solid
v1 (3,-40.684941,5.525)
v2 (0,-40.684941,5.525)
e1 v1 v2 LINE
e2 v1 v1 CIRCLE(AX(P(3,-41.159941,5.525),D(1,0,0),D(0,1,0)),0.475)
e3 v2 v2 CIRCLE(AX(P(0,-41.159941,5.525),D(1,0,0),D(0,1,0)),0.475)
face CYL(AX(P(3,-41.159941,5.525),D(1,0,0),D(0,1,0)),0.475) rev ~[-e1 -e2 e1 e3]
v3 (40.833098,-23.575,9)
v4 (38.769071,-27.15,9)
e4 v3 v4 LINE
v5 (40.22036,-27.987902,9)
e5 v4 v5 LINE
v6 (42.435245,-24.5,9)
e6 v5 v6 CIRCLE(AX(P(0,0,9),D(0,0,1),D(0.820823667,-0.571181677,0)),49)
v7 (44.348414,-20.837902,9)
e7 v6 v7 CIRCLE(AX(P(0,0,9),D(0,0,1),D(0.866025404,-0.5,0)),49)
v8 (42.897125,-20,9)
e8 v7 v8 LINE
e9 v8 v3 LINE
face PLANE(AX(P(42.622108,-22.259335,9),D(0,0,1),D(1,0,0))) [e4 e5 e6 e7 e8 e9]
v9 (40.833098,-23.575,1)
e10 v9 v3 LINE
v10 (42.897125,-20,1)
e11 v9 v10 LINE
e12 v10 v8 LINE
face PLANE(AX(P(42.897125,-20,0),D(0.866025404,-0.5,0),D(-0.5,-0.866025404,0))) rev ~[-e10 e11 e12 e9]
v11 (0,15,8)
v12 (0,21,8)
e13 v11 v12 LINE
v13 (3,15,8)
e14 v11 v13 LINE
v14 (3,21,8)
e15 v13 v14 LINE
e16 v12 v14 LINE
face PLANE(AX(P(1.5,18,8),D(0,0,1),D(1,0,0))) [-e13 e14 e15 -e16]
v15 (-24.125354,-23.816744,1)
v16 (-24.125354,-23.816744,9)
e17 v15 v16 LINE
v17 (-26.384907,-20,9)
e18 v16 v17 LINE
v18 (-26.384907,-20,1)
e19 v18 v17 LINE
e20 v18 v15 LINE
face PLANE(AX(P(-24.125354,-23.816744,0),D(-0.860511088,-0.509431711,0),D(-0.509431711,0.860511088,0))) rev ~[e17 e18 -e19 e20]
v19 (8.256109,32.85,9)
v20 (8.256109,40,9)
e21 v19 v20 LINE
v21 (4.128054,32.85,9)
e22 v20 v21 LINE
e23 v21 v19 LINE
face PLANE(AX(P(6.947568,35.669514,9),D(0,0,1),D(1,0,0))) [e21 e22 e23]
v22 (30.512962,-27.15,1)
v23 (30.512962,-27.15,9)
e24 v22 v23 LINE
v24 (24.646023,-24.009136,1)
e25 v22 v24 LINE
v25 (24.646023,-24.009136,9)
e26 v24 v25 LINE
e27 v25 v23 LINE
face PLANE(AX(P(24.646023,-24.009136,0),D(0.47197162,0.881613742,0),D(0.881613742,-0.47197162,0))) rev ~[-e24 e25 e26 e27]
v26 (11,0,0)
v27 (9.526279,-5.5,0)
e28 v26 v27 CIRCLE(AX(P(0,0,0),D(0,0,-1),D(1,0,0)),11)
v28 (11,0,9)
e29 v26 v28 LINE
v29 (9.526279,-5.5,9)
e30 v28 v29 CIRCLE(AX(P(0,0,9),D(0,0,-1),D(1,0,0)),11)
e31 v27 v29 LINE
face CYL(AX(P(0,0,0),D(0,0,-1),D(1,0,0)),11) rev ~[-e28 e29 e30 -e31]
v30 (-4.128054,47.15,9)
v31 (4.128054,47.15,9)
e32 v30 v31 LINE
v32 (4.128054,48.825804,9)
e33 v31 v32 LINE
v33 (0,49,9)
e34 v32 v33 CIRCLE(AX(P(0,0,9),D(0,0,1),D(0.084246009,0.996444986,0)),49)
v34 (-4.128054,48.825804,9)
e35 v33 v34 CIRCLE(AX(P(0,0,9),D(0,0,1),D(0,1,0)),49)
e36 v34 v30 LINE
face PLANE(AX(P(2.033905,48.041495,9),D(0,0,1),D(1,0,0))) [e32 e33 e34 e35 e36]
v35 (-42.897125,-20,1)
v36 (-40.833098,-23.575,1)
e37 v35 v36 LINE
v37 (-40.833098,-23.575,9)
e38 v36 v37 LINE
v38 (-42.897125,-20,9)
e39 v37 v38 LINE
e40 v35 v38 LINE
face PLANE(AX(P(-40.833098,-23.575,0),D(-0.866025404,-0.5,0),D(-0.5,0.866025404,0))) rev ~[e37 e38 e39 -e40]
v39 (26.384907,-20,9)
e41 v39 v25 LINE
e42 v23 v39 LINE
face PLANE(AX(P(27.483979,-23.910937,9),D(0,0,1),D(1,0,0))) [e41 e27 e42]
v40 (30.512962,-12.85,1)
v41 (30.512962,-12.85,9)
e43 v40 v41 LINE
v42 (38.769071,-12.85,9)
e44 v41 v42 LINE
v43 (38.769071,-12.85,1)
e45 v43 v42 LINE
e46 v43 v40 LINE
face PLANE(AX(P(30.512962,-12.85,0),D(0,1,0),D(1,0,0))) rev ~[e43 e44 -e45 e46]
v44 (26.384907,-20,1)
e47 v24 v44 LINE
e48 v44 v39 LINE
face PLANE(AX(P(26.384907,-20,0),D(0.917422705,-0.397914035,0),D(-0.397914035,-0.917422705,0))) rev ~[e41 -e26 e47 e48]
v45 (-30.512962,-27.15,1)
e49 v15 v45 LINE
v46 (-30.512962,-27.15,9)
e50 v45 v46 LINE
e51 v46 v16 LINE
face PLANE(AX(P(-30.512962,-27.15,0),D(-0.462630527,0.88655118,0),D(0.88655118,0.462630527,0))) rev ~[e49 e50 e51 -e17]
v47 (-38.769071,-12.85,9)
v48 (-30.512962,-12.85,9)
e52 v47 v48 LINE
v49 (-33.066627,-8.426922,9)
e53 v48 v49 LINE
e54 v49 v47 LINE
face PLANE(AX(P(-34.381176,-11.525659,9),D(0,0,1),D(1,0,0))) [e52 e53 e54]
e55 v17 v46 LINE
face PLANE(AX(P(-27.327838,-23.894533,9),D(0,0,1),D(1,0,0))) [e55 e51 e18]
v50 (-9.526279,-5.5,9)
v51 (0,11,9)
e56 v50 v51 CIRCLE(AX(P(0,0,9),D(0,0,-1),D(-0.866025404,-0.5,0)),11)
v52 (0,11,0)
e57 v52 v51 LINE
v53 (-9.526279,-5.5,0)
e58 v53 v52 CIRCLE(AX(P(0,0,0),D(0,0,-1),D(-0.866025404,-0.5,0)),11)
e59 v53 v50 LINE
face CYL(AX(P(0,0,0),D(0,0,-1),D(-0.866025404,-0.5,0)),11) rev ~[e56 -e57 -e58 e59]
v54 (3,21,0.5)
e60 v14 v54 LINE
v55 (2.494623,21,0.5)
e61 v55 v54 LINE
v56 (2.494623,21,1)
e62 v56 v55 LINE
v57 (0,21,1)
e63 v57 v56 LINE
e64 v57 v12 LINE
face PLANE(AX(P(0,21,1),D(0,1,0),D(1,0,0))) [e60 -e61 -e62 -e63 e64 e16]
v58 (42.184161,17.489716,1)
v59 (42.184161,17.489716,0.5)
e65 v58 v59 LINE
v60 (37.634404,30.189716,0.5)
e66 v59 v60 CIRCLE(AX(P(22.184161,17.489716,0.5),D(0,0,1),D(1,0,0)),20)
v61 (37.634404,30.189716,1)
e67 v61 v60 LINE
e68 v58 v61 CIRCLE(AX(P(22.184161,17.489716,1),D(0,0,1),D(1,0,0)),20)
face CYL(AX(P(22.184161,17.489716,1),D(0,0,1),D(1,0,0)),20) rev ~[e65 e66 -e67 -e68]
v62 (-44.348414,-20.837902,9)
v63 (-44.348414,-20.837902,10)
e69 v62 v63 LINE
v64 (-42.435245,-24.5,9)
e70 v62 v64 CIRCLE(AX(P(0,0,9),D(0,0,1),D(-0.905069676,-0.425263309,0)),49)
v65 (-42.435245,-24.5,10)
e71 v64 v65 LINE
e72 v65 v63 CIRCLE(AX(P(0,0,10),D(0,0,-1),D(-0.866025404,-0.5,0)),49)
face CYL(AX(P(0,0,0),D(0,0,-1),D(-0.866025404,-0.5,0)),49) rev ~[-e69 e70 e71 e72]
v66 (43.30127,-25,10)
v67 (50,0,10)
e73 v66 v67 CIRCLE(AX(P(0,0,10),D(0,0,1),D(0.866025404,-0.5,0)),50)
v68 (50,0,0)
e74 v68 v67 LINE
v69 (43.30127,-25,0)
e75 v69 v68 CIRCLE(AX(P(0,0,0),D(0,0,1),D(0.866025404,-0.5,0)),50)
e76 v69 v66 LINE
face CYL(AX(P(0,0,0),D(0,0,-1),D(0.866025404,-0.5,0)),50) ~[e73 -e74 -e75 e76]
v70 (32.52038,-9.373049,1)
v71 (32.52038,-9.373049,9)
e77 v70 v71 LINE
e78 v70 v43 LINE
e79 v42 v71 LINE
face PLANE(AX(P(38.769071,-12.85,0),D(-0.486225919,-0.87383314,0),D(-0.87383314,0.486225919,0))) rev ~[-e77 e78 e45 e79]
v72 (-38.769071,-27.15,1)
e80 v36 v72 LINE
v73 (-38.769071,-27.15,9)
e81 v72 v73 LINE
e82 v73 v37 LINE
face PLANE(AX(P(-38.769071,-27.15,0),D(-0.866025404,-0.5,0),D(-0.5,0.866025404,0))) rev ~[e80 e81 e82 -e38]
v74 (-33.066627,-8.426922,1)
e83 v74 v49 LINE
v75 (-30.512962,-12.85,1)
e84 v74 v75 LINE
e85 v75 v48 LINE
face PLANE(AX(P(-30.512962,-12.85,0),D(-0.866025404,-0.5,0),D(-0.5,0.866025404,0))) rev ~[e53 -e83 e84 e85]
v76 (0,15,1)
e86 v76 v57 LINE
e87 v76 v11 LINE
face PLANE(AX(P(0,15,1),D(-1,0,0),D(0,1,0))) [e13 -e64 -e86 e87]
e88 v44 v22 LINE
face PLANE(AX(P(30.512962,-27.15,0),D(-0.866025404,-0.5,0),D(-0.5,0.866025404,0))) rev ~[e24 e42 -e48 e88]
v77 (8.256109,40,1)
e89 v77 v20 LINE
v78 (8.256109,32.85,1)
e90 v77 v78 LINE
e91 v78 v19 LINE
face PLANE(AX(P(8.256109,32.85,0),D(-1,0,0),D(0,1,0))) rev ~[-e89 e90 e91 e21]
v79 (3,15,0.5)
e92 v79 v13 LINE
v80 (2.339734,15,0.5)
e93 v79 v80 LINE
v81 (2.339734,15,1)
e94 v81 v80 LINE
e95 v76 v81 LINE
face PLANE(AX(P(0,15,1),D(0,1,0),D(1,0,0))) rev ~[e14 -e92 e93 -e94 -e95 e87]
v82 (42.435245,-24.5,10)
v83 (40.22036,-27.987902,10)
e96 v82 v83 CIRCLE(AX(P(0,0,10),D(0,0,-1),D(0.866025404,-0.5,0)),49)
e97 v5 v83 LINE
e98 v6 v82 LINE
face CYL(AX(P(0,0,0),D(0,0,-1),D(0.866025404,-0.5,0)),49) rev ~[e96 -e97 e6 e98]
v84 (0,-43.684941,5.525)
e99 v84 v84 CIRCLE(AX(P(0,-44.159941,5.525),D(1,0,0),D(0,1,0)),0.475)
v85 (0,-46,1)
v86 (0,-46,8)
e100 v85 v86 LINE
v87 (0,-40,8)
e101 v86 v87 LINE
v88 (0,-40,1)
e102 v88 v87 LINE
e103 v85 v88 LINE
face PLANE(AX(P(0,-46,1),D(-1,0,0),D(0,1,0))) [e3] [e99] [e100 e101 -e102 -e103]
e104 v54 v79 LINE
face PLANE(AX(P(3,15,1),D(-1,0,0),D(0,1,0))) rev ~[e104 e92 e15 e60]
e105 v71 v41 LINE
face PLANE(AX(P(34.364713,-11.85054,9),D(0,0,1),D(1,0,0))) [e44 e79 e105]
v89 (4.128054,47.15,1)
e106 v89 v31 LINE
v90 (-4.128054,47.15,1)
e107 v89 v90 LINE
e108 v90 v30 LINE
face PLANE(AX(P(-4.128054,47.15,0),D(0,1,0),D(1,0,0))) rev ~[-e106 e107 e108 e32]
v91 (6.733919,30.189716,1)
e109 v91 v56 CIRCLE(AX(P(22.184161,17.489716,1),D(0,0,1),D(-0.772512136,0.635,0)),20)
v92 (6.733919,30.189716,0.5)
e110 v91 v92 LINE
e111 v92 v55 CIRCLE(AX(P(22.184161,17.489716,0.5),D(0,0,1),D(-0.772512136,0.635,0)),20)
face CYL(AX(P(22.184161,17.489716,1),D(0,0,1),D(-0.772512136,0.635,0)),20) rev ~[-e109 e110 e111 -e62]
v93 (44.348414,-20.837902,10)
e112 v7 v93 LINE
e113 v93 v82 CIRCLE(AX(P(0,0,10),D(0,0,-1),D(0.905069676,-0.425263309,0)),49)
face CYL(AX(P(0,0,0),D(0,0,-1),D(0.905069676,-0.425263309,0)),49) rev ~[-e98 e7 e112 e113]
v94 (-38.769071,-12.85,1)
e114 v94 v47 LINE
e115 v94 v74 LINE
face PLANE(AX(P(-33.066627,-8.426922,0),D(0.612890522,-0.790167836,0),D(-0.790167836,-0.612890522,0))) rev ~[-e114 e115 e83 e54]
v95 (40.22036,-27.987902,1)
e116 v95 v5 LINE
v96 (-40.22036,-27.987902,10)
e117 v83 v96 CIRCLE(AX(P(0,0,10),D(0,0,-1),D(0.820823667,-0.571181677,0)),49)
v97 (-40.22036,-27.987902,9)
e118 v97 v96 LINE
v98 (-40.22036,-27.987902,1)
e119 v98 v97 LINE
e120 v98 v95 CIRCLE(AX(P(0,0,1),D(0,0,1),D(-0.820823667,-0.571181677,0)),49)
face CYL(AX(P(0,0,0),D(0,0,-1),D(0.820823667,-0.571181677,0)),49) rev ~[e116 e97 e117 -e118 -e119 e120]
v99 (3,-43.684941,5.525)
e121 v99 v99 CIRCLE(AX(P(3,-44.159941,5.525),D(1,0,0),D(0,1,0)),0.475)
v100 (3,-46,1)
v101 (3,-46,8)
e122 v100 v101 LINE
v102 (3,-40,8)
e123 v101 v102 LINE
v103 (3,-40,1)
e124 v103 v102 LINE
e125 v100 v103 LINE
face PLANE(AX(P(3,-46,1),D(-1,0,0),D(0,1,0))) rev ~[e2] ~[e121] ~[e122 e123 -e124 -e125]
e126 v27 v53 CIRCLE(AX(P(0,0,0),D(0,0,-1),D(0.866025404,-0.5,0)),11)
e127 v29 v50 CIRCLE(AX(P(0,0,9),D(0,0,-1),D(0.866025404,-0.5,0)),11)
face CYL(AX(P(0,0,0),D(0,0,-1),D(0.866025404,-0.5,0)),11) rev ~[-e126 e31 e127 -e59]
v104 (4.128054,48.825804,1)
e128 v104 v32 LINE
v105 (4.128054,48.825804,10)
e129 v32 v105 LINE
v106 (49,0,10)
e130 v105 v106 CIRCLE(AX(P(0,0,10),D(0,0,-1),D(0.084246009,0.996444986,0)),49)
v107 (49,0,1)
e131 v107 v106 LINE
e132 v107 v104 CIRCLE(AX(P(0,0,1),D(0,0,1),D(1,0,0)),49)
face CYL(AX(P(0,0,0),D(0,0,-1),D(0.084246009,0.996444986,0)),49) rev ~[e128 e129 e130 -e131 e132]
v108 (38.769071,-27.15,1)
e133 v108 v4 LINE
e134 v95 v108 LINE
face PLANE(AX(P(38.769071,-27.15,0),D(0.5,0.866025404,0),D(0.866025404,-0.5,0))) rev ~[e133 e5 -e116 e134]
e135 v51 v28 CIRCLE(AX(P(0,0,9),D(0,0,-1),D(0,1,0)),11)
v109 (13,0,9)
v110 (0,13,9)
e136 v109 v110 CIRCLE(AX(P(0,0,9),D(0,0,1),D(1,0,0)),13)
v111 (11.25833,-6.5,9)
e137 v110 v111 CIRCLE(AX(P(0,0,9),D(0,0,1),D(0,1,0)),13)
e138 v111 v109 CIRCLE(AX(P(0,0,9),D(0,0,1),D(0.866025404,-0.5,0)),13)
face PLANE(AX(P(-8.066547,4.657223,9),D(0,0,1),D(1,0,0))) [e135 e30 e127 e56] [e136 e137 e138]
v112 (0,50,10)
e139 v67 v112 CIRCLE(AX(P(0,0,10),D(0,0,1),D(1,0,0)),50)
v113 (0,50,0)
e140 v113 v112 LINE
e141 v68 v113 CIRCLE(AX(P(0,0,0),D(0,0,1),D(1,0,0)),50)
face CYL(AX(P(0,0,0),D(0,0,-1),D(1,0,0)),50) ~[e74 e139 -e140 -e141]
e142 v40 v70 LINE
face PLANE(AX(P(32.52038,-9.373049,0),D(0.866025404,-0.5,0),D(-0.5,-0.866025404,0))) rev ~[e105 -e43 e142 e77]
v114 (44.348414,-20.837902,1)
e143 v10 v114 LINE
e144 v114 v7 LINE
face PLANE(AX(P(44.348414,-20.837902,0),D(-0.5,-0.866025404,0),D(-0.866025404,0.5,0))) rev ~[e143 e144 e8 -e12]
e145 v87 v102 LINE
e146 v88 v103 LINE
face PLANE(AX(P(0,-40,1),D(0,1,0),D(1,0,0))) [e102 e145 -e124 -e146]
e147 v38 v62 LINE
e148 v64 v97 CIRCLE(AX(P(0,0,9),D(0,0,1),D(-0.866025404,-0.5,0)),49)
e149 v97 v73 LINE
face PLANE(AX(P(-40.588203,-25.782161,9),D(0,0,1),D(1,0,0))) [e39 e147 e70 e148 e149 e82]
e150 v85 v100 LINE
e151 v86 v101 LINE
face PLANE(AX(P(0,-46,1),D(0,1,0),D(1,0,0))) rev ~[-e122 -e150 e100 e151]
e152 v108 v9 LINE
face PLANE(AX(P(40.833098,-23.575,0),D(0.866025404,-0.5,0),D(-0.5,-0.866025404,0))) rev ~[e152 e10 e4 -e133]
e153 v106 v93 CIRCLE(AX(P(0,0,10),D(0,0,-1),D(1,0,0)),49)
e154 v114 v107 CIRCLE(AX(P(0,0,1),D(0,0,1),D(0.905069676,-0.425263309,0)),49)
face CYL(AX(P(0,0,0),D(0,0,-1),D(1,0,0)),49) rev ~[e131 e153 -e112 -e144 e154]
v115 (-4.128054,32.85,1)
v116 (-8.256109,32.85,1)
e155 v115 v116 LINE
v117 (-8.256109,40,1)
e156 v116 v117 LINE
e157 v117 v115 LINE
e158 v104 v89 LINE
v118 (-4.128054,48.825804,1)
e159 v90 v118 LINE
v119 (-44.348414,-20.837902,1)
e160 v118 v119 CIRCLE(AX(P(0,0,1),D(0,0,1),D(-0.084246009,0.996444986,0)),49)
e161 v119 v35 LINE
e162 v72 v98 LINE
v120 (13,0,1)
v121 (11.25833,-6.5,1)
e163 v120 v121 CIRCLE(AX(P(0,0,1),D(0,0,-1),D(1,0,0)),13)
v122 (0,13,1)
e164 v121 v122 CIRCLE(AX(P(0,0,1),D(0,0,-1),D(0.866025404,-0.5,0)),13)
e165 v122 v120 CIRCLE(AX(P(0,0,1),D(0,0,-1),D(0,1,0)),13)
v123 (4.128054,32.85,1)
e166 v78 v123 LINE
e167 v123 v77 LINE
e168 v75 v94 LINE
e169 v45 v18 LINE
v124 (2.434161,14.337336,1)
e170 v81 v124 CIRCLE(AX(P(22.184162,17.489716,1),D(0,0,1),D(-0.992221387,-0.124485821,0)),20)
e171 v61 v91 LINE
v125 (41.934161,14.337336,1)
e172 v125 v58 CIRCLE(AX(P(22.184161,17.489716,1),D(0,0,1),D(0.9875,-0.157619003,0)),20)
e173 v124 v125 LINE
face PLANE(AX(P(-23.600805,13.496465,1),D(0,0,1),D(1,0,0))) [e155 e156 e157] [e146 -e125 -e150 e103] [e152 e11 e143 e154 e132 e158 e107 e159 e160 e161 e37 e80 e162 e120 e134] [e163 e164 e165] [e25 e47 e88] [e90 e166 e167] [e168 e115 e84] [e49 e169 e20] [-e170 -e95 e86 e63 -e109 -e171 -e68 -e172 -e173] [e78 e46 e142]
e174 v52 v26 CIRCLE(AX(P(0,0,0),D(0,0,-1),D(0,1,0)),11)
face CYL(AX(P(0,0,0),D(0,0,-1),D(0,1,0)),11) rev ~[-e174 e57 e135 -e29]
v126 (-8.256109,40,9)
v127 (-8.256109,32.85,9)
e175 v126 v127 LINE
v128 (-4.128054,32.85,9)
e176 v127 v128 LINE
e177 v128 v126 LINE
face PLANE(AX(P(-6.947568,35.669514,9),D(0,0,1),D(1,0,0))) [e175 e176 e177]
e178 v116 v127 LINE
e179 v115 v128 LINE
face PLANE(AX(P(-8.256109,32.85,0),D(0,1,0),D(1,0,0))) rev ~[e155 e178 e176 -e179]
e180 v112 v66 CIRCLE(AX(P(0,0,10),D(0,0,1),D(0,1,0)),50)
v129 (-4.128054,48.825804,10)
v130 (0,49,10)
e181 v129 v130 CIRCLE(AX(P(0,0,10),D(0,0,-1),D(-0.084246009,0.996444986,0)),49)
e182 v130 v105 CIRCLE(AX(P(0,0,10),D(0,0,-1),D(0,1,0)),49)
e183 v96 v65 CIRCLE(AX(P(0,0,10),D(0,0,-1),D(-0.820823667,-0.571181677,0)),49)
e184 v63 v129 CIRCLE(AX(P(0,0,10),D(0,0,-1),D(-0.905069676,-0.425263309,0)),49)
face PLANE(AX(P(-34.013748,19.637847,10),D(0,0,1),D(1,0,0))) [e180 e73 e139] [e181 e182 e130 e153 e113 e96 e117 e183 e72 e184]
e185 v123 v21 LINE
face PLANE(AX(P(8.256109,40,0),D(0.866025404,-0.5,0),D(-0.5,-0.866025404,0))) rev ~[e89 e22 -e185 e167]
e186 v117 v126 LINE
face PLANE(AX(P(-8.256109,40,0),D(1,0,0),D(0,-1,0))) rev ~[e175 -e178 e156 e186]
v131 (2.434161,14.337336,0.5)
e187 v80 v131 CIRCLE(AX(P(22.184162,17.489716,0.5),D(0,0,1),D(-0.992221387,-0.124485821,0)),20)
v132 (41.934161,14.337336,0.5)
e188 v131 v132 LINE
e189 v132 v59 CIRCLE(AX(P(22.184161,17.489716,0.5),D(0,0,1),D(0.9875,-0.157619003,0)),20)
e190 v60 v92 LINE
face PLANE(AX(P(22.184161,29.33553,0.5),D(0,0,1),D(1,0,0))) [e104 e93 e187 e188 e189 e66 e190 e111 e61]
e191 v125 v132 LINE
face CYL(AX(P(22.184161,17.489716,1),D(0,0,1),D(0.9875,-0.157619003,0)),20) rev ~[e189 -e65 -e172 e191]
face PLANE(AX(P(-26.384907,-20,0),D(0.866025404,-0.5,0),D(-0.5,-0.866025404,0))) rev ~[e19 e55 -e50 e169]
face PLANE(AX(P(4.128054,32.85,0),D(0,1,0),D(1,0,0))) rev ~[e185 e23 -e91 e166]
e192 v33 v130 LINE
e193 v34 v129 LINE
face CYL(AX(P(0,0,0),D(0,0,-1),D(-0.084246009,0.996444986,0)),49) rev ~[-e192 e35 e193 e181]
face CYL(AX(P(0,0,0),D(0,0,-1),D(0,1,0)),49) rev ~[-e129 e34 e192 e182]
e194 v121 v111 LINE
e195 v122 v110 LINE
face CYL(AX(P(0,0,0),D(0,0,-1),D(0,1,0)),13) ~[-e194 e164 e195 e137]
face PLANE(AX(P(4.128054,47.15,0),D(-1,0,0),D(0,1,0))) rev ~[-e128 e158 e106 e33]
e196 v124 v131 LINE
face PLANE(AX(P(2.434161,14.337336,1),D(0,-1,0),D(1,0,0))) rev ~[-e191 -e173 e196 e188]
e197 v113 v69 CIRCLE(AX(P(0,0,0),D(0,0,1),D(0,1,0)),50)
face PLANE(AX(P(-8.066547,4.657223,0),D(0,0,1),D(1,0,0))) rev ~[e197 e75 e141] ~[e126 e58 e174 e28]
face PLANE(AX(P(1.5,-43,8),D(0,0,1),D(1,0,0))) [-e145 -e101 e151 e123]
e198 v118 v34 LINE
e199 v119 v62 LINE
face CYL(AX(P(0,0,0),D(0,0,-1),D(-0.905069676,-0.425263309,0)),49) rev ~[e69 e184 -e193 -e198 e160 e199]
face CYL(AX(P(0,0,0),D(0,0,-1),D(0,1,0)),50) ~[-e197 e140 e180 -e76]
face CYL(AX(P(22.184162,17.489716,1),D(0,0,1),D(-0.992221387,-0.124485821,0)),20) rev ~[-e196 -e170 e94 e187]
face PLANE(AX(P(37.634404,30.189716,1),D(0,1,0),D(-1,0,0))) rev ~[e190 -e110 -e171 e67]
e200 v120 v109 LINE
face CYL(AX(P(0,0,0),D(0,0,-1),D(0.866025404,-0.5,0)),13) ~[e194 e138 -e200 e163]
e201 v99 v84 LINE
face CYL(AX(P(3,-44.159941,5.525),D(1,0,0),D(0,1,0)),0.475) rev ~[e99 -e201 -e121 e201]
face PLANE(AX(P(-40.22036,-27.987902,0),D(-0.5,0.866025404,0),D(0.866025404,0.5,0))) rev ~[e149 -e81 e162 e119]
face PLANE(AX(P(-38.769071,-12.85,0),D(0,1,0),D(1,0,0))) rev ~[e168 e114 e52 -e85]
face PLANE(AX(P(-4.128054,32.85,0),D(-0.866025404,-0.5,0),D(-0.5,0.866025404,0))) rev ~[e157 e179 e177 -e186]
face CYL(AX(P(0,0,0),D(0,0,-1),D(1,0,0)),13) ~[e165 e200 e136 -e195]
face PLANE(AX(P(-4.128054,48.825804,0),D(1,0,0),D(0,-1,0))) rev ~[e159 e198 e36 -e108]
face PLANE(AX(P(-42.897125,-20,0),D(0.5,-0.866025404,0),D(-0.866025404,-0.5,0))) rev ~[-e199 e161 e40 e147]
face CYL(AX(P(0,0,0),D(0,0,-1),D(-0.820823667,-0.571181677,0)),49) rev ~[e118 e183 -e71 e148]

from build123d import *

# Parameters (mm, degrees)
F1_DEPTH  = 10
F2_DEPTH  = 1
F3_DEPTH  = 9
F4_W      = 3
F4_H      = 6
F5_DEPTH  = 7
F7_R      = 0.475
F6_R      = 0.475
F8_DEPTH  = 3
F10_DEPTH = 0.5


with BuildPart() as f1:
    # F0 (on Top) → F1 (new body)
    with BuildSketch(Plane.XY):
        with BuildLine():
            ThreePointArc((-4.1280544247, 48.8258043115), (-2.0658640729, 48.9564317085), (0, 49))
            Line((0, 49), (0, 50))
            ThreePointArc((0, 50), (-43.3012701892, 25), (-43.3012701892, -25))
            Line((-43.3012701892, -25), (-42.4352447854, -24.5))
            ThreePointArc((-42.4352447854, -24.5), (-43.4304455747, -22.6891250863), (-44.3484141063, -20.8379021558))
            ThreePointArc((-44.3484141063, -20.8379021558), (-42.4352447854, 24.5), (-4.1280544247, 48.8258043115))
        make_face()
        with BuildLine():
            Line((43.3012701892, -25), (42.4352447854, -24.5))
            ThreePointArc((42.4352447854, -24.5), (41.3645815018, -26.2673066222), (40.2203596816, -27.9879021558))
            ThreePointArc((40.2203596816, -27.9879021558), (0, -49), (-40.2203596816, -27.9879021558))
            ThreePointArc((-40.2203596816, -27.9879021558), (-41.3645815018, -26.2673066222), (-42.4352447854, -24.5))
            Line((-42.4352447854, -24.5), (-43.3012701892, -25))
            ThreePointArc((-43.3012701892, -25), (0, -50), (43.3012701892, -25))
        make_face()
        with BuildLine():
            Line((0, 50), (0, 49))
            ThreePointArc((0, 49), (2.0658640729, 48.9564317085), (4.1280544247, 48.8258043115))
            ThreePointArc((4.1280544247, 48.8258043115), (36.0782113388, 33.1566383488), (49, 0))
            ThreePointArc((49, 0), (47.8229667169, -10.6753854448), (44.3484141063, -20.8379021558))
            ThreePointArc((44.3484141063, -20.8379021558), (43.4304455747, -22.6891250863), (42.4352447854, -24.5))
            Line((42.4352447854, -24.5), (43.3012701892, -25))
            ThreePointArc((43.3012701892, -25), (48.2962913145, -12.9409522551), (50, 0))
            ThreePointArc((50, 0), (35.3553390593, 35.3553390593), (0, 50))
        make_face()
    extrude(amount=F1_DEPTH)

    # F0 (on Top) → F2 (join)
    with BuildSketch(Plane.XY):
        with BuildLine():
            ThreePointArc((-11.2583302492, -6.5), (-11.2583302492, 6.5), (0, 13))
            Line((0, 13), (0, 32.85))
            Line((0, 32.85), (-4.1280544247, 32.85))
            Line((-4.1280544247, 32.85), (-8.2561088494, 32.85))
            Line((-8.2561088494, 32.85), (-8.2561088494, 40))
            Line((-8.2561088494, 40), (-4.1280544247, 47.15))
            Line((-4.1280544247, 47.15), (-4.1280544247, 48.8258043115))
            ThreePointArc((-4.1280544247, 48.8258043115), (-42.4352447854, 24.5), (-44.3484141063, -20.8379021558))
            Line((-44.3484141063, -20.8379021558), (-42.8971250008, -20))
            Line((-42.8971250008, -20), (-38.7690705761, -12.85))
            Line((-38.7690705761, -12.85), (-33.0666268225, -8.4269223086))
            Line((-33.0666268225, -8.4269223086), (-30.5129617267, -12.85))
            Line((-30.5129617267, -12.85), (-28.4489345143, -16.425))
            Line((-28.4489345143, -16.425), (-11.2583302492, -6.5))
        make_face()
        with BuildLine():
            Line((28.4489345143, -16.425), (11.2583302492, -6.5))
            ThreePointArc((11.2583302492, -6.5), (0, -13), (-11.2583302492, -6.5))
            Line((-11.2583302492, -6.5), (-28.4489345143, -16.425))
            Line((-28.4489345143, -16.425), (-26.384907302, -20))
            Line((-26.384907302, -20), (-24.1253543645, -23.8167438656))
            Line((-24.1253543645, -23.8167438656), (-30.5129617267, -27.15))
            Line((-30.5129617267, -27.15), (-38.7690705761, -27.15))
            Line((-38.7690705761, -27.15), (-40.2203596816, -27.9879021558))
            ThreePointArc((-40.2203596816, -27.9879021558), (0, -49), (40.2203596816, -27.9879021558))
            Line((40.2203596816, -27.9879021558), (38.7690705761, -27.15))
            Line((38.7690705761, -27.15), (30.5129617267, -27.15))
            Line((30.5129617267, -27.15), (24.6460232884, -24.0091364831))
            Line((24.6460232884, -24.0091364831), (26.384907302, -20))
            Line((26.384907302, -20), (28.4489345143, -16.425))
        make_face()
        with BuildLine():
            Line((0, 32.85), (0, 13))
            ThreePointArc((0, 13), (9.1923881554, 9.1923881554), (13, 0))
            ThreePointArc((13, 0), (12.5570357418, -3.3646475863), (11.2583302492, -6.5))
            Line((11.2583302492, -6.5), (28.4489345143, -16.425))
            Line((28.4489345143, -16.425), (30.5129617267, -12.85))
            Line((30.5129617267, -12.85), (32.5203803987, -9.3730488681))
            Line((32.5203803987, -9.3730488681), (38.7690705761, -12.85))
            Line((38.7690705761, -12.85), (42.8971250008, -20))
            Line((42.8971250008, -20), (44.3484141063, -20.8379021558))
            ThreePointArc((44.3484141063, -20.8379021558), (47.8229667169, -10.6753854448), (49, 0))
            ThreePointArc((49, 0), (36.0782113388, 33.1566383488), (4.1280544247, 48.8258043115))
            Line((4.1280544247, 48.8258043115), (4.1280544247, 47.15))
            Line((4.1280544247, 47.15), (8.2561088494, 40))
            Line((8.2561088494, 40), (8.2561088494, 32.85))
            Line((8.2561088494, 32.85), (4.1280544247, 32.85))
            Line((4.1280544247, 32.85), (0, 32.85))
        make_face()
        Polygon((-40.8330977884, -23.575), (-28.4489345143, -16.425), (-30.5129617267, -12.85), (-38.7690705761, -12.85), (-42.8971250008, -20), align=None)
        Polygon((-26.384907302, -20), (-28.4489345143, -16.425), (-40.8330977884, -23.575), (-38.7690705761, -27.15), (-30.5129617267, -27.15), align=None)
        Polygon((30.5129617267, -12.85), (28.4489345143, -16.425), (40.8330977884, -23.575), (42.8971250008, -20), (38.7690705761, -12.85), align=None)
        Polygon((40.8330977884, -23.575), (28.4489345143, -16.425), (26.384907302, -20), (30.5129617267, -27.15), (38.7690705761, -27.15), align=None)
        Polygon((0, 47.15), (0, 32.85), (4.1280544247, 32.85), (8.2561088494, 40), (4.1280544247, 47.15), align=None)
        Polygon((-4.1280544247, 32.85), (0, 32.85), (0, 47.15), (-4.1280544247, 47.15), (-8.2561088494, 40), align=None)
    extrude(amount=F2_DEPTH)

    # F0 (on Top) → F3 (join)
    with BuildSketch(Plane.XY):
        with BuildLine():
            ThreePointArc((-9.5262794416, -5.5), (-9.5262794416, 5.5), (0, 11))
            Line((0, 11), (0, 13))
            ThreePointArc((0, 13), (-11.2583302492, 6.5), (-11.2583302492, -6.5))
            Line((-11.2583302492, -6.5), (-9.5262794416, -5.5))
        make_face()
        with BuildLine():
            Line((11.2583302492, -6.5), (9.5262794416, -5.5))
            ThreePointArc((9.5262794416, -5.5), (0, -11), (-9.5262794416, -5.5))
            Line((-9.5262794416, -5.5), (-11.2583302492, -6.5))
            ThreePointArc((-11.2583302492, -6.5), (0, -13), (11.2583302492, -6.5))
        make_face()
        with BuildLine():
            ThreePointArc((0, 11), (7.7781745931, 7.7781745931), (11, 0))
            ThreePointArc((11, 0), (10.6251840892, -2.8470094961), (9.5262794416, -5.5))
            Line((9.5262794416, -5.5), (11.2583302492, -6.5))
            ThreePointArc((11.2583302492, -6.5), (12.5570357418, -3.3646475863), (13, 0))
            ThreePointArc((13, 0), (9.1923881554, 9.1923881554), (0, 13))
            Line((0, 13), (0, 11))
        make_face()
        Polygon((-24.1253543645, -23.8167438656), (-26.384907302, -20), (-30.5129617267, -27.15), align=None)
        with BuildLine():
            Line((-38.7690705761, -27.15), (-40.8330977884, -23.575))
            Line((-40.8330977884, -23.575), (-42.4352447854, -24.5))
            ThreePointArc((-42.4352447854, -24.5), (-41.3645815018, -26.2673066222), (-40.2203596816, -27.9879021558))
            Line((-40.2203596816, -27.9879021558), (-38.7690705761, -27.15))
        make_face()
        with BuildLine():
            Line((-42.4352447854, -24.5), (-40.8330977884, -23.575))
            Line((-40.8330977884, -23.575), (-42.8971250008, -20))
            Line((-42.8971250008, -20), (-44.3484141063, -20.8379021558))
            ThreePointArc((-44.3484141063, -20.8379021558), (-43.4304455747, -22.6891250863), (-42.4352447854, -24.5))
        make_face()
        Polygon((-38.7690705761, -12.85), (-30.5129617267, -12.85), (-33.0666268225, -8.4269223086), align=None)
        Polygon((8.2561088494, 40), (4.1280544247, 32.85), (8.2561088494, 32.85), align=None)
        Polygon((-8.2561088494, 32.85), (-4.1280544247, 32.85), (-8.2561088494, 40), align=None)
        with BuildLine():
            Line((0, 49), (0, 47.15))
            Line((0, 47.15), (4.1280544247, 47.15))
            Line((4.1280544247, 47.15), (4.1280544247, 48.8258043115))
            ThreePointArc((4.1280544247, 48.8258043115), (2.0658640729, 48.9564317085), (0, 49))
        make_face()
        with BuildLine():
            Line((-4.1280544247, 47.15), (0, 47.15))
            Line((0, 47.15), (0, 49))
            ThreePointArc((0, 49), (-2.0658640729, 48.9564317085), (-4.1280544247, 48.8258043115))
            Line((-4.1280544247, 48.8258043115), (-4.1280544247, 47.15))
        make_face()
        Polygon((30.5129617267, -27.15), (26.384907302, -20), (24.6460232884, -24.0091364831), align=None)
        Polygon((32.5203803987, -9.3730488681), (30.5129617267, -12.85), (38.7690705761, -12.85), align=None)
        with BuildLine():
            Line((42.8971250008, -20), (40.8330977884, -23.575))
            Line((40.8330977884, -23.575), (42.4352447854, -24.5))
            ThreePointArc((42.4352447854, -24.5), (43.4304455747, -22.6891250863), (44.3484141063, -20.8379021558))
            Line((44.3484141063, -20.8379021558), (42.8971250008, -20))
        make_face()
        with BuildLine():
            Line((42.4352447854, -24.5), (40.8330977884, -23.575))
            Line((40.8330977884, -23.575), (38.7690705761, -27.15))
            Line((38.7690705761, -27.15), (40.2203596816, -27.9879021558))
            ThreePointArc((40.2203596816, -27.9879021558), (41.3645815018, -26.2673066222), (42.4352447854, -24.5))
        make_face()
    extrude(amount=F3_DEPTH)

    # F4 (on face) → F5 (join)
    with BuildSketch(Plane.XY.offset(1)):
        with Locations((1.5, -43)):
            Rectangle(F4_W, F4_H)
        with Locations((1.5, 18)):
            Rectangle(F4_W, F4_H)
    extrude(amount=F5_DEPTH)

    # F7 (on face) + F6 (on face) → F8 (cut)
    with BuildSketch(Plane.YZ.offset(3)):
        with Locations((26.4671016484, 6.5815430135)):
            Circle(F7_R)
        with Locations((29.4671016484, 6.5815430135)):
            Circle(F7_R)
    with BuildSketch(Plane.YZ.offset(3)):
        with Locations((-44.1599413753, 5.525)):
            Circle(F6_R)
        with Locations((-41.1599413753, 5.525)):
            Circle(F6_R)
    extrude(amount=-F8_DEPTH, mode=Mode.SUBTRACT)

    # F9 (on face) → F10 (cut)
    with BuildSketch(Plane.XY.offset(1)):
        with BuildLine():
            Line((6.7339187528, 28.548197319), (37.6344041859, 28.548197319))
            ThreePointArc((37.6344041859, 28.548197319), (36.9979768258, 29.3872318901), (36.3160403253, 30.1897164106))
            Line((36.3160403253, 30.1897164106), (8.0522826134, 30.1897164106))
            ThreePointArc((8.0522826134, 30.1897164106), (7.3703461129, 29.3872318901), (6.7339187528, 28.548197319))
        make_face()
        with BuildLine():
            ThreePointArc((37.6344041859, 28.548197319), (40.2749686876, 23.2968408447), (41.1841614693, 17.4897164106))
            ThreePointArc((41.1841614693, 17.4897164106), (41.1704659003, 16.7684369526), (41.1293989371, 16.048197319))
            ThreePointArc((41.1293989371, 16.048197319), (41.0445206049, 15.1904005824), (40.9208233919, 14.3373363574))
            Line((40.9208233919, 14.3373363574), (41.9341614693, 14.3373363574))
            ThreePointArc((41.9341614693, 14.3373363574), (42.1215635067, 15.9085775806), (42.1841614693, 17.4897164106))
            ThreePointArc((42.1841614693, 17.4897164106), (41.0123963087, 24.2349052764), (37.6344041859, 30.1897164106))
            Line((37.6344041859, 30.1897164106), (36.3160403253, 30.1897164106))
            ThreePointArc((36.3160403253, 30.1897164106), (36.9979768258, 29.3872318901), (37.6344041859, 28.548197319))
        make_face()
        with BuildLine():
            ThreePointArc((40.9208233919, 14.3373363574), (41.0445206049, 15.1904005824), (41.1293989371, 16.048197319))
            Line((41.1293989371, 16.048197319), (3.2389240016, 16.048197319))
            ThreePointArc((3.2389240016, 16.048197319), (3.3238023338, 15.1904005824), (3.4474995468, 14.3373363574))
            Line((3.4474995468, 14.3373363574), (40.9208233919, 14.3373363574))
        make_face()
        with BuildLine():
            ThreePointArc((3.2389240016, 16.048197319), (3.885943953, 22.6058903447), (6.7339187528, 28.548197319))
            ThreePointArc((6.7339187528, 28.548197319), (7.3703461129, 29.3872318901), (8.0522826134, 30.1897164106))
            Line((8.0522826134, 30.1897164106), (6.7339187528, 30.1897164106))
            ThreePointArc((6.7339187528, 30.1897164106), (4.0233858738, 25.867438641), (2.4946234066, 21))
            Line((2.4946234066, 21), (3, 21))
            Line((3, 21), (3, 15))
            Line((3, 15), (2.3397337327, 15))
            ThreePointArc((2.3397337327, 15), (2.3841751632, 14.668273114), (2.4341614693, 14.3373363574))
            Line((2.4341614693, 14.3373363574), (3.4474995468, 14.3373363574))
            ThreePointArc((3.4474995468, 14.3373363574), (3.3238023338, 15.1904005824), (3.2389240016, 16.048197319))
        make_face()
        with BuildLine():
            ThreePointArc((41.1293989371, 16.048197319), (41.1704659003, 16.7684369526), (41.1841614693, 17.4897164106))
            ThreePointArc((41.1841614693, 17.4897164106), (40.2749686876, 23.2968408447), (37.6344041859, 28.548197319))
            Line((37.6344041859, 28.548197319), (6.7339187528, 28.548197319))
            ThreePointArc((6.7339187528, 28.548197319), (3.885943953, 22.6058903447), (3.2389240016, 16.048197319))
            Line((3.2389240016, 16.048197319), (41.1293989371, 16.048197319))
        make_face()
    extrude(amount=-F10_DEPTH, mode=Mode.SUBTRACT)


solid = f1.part
